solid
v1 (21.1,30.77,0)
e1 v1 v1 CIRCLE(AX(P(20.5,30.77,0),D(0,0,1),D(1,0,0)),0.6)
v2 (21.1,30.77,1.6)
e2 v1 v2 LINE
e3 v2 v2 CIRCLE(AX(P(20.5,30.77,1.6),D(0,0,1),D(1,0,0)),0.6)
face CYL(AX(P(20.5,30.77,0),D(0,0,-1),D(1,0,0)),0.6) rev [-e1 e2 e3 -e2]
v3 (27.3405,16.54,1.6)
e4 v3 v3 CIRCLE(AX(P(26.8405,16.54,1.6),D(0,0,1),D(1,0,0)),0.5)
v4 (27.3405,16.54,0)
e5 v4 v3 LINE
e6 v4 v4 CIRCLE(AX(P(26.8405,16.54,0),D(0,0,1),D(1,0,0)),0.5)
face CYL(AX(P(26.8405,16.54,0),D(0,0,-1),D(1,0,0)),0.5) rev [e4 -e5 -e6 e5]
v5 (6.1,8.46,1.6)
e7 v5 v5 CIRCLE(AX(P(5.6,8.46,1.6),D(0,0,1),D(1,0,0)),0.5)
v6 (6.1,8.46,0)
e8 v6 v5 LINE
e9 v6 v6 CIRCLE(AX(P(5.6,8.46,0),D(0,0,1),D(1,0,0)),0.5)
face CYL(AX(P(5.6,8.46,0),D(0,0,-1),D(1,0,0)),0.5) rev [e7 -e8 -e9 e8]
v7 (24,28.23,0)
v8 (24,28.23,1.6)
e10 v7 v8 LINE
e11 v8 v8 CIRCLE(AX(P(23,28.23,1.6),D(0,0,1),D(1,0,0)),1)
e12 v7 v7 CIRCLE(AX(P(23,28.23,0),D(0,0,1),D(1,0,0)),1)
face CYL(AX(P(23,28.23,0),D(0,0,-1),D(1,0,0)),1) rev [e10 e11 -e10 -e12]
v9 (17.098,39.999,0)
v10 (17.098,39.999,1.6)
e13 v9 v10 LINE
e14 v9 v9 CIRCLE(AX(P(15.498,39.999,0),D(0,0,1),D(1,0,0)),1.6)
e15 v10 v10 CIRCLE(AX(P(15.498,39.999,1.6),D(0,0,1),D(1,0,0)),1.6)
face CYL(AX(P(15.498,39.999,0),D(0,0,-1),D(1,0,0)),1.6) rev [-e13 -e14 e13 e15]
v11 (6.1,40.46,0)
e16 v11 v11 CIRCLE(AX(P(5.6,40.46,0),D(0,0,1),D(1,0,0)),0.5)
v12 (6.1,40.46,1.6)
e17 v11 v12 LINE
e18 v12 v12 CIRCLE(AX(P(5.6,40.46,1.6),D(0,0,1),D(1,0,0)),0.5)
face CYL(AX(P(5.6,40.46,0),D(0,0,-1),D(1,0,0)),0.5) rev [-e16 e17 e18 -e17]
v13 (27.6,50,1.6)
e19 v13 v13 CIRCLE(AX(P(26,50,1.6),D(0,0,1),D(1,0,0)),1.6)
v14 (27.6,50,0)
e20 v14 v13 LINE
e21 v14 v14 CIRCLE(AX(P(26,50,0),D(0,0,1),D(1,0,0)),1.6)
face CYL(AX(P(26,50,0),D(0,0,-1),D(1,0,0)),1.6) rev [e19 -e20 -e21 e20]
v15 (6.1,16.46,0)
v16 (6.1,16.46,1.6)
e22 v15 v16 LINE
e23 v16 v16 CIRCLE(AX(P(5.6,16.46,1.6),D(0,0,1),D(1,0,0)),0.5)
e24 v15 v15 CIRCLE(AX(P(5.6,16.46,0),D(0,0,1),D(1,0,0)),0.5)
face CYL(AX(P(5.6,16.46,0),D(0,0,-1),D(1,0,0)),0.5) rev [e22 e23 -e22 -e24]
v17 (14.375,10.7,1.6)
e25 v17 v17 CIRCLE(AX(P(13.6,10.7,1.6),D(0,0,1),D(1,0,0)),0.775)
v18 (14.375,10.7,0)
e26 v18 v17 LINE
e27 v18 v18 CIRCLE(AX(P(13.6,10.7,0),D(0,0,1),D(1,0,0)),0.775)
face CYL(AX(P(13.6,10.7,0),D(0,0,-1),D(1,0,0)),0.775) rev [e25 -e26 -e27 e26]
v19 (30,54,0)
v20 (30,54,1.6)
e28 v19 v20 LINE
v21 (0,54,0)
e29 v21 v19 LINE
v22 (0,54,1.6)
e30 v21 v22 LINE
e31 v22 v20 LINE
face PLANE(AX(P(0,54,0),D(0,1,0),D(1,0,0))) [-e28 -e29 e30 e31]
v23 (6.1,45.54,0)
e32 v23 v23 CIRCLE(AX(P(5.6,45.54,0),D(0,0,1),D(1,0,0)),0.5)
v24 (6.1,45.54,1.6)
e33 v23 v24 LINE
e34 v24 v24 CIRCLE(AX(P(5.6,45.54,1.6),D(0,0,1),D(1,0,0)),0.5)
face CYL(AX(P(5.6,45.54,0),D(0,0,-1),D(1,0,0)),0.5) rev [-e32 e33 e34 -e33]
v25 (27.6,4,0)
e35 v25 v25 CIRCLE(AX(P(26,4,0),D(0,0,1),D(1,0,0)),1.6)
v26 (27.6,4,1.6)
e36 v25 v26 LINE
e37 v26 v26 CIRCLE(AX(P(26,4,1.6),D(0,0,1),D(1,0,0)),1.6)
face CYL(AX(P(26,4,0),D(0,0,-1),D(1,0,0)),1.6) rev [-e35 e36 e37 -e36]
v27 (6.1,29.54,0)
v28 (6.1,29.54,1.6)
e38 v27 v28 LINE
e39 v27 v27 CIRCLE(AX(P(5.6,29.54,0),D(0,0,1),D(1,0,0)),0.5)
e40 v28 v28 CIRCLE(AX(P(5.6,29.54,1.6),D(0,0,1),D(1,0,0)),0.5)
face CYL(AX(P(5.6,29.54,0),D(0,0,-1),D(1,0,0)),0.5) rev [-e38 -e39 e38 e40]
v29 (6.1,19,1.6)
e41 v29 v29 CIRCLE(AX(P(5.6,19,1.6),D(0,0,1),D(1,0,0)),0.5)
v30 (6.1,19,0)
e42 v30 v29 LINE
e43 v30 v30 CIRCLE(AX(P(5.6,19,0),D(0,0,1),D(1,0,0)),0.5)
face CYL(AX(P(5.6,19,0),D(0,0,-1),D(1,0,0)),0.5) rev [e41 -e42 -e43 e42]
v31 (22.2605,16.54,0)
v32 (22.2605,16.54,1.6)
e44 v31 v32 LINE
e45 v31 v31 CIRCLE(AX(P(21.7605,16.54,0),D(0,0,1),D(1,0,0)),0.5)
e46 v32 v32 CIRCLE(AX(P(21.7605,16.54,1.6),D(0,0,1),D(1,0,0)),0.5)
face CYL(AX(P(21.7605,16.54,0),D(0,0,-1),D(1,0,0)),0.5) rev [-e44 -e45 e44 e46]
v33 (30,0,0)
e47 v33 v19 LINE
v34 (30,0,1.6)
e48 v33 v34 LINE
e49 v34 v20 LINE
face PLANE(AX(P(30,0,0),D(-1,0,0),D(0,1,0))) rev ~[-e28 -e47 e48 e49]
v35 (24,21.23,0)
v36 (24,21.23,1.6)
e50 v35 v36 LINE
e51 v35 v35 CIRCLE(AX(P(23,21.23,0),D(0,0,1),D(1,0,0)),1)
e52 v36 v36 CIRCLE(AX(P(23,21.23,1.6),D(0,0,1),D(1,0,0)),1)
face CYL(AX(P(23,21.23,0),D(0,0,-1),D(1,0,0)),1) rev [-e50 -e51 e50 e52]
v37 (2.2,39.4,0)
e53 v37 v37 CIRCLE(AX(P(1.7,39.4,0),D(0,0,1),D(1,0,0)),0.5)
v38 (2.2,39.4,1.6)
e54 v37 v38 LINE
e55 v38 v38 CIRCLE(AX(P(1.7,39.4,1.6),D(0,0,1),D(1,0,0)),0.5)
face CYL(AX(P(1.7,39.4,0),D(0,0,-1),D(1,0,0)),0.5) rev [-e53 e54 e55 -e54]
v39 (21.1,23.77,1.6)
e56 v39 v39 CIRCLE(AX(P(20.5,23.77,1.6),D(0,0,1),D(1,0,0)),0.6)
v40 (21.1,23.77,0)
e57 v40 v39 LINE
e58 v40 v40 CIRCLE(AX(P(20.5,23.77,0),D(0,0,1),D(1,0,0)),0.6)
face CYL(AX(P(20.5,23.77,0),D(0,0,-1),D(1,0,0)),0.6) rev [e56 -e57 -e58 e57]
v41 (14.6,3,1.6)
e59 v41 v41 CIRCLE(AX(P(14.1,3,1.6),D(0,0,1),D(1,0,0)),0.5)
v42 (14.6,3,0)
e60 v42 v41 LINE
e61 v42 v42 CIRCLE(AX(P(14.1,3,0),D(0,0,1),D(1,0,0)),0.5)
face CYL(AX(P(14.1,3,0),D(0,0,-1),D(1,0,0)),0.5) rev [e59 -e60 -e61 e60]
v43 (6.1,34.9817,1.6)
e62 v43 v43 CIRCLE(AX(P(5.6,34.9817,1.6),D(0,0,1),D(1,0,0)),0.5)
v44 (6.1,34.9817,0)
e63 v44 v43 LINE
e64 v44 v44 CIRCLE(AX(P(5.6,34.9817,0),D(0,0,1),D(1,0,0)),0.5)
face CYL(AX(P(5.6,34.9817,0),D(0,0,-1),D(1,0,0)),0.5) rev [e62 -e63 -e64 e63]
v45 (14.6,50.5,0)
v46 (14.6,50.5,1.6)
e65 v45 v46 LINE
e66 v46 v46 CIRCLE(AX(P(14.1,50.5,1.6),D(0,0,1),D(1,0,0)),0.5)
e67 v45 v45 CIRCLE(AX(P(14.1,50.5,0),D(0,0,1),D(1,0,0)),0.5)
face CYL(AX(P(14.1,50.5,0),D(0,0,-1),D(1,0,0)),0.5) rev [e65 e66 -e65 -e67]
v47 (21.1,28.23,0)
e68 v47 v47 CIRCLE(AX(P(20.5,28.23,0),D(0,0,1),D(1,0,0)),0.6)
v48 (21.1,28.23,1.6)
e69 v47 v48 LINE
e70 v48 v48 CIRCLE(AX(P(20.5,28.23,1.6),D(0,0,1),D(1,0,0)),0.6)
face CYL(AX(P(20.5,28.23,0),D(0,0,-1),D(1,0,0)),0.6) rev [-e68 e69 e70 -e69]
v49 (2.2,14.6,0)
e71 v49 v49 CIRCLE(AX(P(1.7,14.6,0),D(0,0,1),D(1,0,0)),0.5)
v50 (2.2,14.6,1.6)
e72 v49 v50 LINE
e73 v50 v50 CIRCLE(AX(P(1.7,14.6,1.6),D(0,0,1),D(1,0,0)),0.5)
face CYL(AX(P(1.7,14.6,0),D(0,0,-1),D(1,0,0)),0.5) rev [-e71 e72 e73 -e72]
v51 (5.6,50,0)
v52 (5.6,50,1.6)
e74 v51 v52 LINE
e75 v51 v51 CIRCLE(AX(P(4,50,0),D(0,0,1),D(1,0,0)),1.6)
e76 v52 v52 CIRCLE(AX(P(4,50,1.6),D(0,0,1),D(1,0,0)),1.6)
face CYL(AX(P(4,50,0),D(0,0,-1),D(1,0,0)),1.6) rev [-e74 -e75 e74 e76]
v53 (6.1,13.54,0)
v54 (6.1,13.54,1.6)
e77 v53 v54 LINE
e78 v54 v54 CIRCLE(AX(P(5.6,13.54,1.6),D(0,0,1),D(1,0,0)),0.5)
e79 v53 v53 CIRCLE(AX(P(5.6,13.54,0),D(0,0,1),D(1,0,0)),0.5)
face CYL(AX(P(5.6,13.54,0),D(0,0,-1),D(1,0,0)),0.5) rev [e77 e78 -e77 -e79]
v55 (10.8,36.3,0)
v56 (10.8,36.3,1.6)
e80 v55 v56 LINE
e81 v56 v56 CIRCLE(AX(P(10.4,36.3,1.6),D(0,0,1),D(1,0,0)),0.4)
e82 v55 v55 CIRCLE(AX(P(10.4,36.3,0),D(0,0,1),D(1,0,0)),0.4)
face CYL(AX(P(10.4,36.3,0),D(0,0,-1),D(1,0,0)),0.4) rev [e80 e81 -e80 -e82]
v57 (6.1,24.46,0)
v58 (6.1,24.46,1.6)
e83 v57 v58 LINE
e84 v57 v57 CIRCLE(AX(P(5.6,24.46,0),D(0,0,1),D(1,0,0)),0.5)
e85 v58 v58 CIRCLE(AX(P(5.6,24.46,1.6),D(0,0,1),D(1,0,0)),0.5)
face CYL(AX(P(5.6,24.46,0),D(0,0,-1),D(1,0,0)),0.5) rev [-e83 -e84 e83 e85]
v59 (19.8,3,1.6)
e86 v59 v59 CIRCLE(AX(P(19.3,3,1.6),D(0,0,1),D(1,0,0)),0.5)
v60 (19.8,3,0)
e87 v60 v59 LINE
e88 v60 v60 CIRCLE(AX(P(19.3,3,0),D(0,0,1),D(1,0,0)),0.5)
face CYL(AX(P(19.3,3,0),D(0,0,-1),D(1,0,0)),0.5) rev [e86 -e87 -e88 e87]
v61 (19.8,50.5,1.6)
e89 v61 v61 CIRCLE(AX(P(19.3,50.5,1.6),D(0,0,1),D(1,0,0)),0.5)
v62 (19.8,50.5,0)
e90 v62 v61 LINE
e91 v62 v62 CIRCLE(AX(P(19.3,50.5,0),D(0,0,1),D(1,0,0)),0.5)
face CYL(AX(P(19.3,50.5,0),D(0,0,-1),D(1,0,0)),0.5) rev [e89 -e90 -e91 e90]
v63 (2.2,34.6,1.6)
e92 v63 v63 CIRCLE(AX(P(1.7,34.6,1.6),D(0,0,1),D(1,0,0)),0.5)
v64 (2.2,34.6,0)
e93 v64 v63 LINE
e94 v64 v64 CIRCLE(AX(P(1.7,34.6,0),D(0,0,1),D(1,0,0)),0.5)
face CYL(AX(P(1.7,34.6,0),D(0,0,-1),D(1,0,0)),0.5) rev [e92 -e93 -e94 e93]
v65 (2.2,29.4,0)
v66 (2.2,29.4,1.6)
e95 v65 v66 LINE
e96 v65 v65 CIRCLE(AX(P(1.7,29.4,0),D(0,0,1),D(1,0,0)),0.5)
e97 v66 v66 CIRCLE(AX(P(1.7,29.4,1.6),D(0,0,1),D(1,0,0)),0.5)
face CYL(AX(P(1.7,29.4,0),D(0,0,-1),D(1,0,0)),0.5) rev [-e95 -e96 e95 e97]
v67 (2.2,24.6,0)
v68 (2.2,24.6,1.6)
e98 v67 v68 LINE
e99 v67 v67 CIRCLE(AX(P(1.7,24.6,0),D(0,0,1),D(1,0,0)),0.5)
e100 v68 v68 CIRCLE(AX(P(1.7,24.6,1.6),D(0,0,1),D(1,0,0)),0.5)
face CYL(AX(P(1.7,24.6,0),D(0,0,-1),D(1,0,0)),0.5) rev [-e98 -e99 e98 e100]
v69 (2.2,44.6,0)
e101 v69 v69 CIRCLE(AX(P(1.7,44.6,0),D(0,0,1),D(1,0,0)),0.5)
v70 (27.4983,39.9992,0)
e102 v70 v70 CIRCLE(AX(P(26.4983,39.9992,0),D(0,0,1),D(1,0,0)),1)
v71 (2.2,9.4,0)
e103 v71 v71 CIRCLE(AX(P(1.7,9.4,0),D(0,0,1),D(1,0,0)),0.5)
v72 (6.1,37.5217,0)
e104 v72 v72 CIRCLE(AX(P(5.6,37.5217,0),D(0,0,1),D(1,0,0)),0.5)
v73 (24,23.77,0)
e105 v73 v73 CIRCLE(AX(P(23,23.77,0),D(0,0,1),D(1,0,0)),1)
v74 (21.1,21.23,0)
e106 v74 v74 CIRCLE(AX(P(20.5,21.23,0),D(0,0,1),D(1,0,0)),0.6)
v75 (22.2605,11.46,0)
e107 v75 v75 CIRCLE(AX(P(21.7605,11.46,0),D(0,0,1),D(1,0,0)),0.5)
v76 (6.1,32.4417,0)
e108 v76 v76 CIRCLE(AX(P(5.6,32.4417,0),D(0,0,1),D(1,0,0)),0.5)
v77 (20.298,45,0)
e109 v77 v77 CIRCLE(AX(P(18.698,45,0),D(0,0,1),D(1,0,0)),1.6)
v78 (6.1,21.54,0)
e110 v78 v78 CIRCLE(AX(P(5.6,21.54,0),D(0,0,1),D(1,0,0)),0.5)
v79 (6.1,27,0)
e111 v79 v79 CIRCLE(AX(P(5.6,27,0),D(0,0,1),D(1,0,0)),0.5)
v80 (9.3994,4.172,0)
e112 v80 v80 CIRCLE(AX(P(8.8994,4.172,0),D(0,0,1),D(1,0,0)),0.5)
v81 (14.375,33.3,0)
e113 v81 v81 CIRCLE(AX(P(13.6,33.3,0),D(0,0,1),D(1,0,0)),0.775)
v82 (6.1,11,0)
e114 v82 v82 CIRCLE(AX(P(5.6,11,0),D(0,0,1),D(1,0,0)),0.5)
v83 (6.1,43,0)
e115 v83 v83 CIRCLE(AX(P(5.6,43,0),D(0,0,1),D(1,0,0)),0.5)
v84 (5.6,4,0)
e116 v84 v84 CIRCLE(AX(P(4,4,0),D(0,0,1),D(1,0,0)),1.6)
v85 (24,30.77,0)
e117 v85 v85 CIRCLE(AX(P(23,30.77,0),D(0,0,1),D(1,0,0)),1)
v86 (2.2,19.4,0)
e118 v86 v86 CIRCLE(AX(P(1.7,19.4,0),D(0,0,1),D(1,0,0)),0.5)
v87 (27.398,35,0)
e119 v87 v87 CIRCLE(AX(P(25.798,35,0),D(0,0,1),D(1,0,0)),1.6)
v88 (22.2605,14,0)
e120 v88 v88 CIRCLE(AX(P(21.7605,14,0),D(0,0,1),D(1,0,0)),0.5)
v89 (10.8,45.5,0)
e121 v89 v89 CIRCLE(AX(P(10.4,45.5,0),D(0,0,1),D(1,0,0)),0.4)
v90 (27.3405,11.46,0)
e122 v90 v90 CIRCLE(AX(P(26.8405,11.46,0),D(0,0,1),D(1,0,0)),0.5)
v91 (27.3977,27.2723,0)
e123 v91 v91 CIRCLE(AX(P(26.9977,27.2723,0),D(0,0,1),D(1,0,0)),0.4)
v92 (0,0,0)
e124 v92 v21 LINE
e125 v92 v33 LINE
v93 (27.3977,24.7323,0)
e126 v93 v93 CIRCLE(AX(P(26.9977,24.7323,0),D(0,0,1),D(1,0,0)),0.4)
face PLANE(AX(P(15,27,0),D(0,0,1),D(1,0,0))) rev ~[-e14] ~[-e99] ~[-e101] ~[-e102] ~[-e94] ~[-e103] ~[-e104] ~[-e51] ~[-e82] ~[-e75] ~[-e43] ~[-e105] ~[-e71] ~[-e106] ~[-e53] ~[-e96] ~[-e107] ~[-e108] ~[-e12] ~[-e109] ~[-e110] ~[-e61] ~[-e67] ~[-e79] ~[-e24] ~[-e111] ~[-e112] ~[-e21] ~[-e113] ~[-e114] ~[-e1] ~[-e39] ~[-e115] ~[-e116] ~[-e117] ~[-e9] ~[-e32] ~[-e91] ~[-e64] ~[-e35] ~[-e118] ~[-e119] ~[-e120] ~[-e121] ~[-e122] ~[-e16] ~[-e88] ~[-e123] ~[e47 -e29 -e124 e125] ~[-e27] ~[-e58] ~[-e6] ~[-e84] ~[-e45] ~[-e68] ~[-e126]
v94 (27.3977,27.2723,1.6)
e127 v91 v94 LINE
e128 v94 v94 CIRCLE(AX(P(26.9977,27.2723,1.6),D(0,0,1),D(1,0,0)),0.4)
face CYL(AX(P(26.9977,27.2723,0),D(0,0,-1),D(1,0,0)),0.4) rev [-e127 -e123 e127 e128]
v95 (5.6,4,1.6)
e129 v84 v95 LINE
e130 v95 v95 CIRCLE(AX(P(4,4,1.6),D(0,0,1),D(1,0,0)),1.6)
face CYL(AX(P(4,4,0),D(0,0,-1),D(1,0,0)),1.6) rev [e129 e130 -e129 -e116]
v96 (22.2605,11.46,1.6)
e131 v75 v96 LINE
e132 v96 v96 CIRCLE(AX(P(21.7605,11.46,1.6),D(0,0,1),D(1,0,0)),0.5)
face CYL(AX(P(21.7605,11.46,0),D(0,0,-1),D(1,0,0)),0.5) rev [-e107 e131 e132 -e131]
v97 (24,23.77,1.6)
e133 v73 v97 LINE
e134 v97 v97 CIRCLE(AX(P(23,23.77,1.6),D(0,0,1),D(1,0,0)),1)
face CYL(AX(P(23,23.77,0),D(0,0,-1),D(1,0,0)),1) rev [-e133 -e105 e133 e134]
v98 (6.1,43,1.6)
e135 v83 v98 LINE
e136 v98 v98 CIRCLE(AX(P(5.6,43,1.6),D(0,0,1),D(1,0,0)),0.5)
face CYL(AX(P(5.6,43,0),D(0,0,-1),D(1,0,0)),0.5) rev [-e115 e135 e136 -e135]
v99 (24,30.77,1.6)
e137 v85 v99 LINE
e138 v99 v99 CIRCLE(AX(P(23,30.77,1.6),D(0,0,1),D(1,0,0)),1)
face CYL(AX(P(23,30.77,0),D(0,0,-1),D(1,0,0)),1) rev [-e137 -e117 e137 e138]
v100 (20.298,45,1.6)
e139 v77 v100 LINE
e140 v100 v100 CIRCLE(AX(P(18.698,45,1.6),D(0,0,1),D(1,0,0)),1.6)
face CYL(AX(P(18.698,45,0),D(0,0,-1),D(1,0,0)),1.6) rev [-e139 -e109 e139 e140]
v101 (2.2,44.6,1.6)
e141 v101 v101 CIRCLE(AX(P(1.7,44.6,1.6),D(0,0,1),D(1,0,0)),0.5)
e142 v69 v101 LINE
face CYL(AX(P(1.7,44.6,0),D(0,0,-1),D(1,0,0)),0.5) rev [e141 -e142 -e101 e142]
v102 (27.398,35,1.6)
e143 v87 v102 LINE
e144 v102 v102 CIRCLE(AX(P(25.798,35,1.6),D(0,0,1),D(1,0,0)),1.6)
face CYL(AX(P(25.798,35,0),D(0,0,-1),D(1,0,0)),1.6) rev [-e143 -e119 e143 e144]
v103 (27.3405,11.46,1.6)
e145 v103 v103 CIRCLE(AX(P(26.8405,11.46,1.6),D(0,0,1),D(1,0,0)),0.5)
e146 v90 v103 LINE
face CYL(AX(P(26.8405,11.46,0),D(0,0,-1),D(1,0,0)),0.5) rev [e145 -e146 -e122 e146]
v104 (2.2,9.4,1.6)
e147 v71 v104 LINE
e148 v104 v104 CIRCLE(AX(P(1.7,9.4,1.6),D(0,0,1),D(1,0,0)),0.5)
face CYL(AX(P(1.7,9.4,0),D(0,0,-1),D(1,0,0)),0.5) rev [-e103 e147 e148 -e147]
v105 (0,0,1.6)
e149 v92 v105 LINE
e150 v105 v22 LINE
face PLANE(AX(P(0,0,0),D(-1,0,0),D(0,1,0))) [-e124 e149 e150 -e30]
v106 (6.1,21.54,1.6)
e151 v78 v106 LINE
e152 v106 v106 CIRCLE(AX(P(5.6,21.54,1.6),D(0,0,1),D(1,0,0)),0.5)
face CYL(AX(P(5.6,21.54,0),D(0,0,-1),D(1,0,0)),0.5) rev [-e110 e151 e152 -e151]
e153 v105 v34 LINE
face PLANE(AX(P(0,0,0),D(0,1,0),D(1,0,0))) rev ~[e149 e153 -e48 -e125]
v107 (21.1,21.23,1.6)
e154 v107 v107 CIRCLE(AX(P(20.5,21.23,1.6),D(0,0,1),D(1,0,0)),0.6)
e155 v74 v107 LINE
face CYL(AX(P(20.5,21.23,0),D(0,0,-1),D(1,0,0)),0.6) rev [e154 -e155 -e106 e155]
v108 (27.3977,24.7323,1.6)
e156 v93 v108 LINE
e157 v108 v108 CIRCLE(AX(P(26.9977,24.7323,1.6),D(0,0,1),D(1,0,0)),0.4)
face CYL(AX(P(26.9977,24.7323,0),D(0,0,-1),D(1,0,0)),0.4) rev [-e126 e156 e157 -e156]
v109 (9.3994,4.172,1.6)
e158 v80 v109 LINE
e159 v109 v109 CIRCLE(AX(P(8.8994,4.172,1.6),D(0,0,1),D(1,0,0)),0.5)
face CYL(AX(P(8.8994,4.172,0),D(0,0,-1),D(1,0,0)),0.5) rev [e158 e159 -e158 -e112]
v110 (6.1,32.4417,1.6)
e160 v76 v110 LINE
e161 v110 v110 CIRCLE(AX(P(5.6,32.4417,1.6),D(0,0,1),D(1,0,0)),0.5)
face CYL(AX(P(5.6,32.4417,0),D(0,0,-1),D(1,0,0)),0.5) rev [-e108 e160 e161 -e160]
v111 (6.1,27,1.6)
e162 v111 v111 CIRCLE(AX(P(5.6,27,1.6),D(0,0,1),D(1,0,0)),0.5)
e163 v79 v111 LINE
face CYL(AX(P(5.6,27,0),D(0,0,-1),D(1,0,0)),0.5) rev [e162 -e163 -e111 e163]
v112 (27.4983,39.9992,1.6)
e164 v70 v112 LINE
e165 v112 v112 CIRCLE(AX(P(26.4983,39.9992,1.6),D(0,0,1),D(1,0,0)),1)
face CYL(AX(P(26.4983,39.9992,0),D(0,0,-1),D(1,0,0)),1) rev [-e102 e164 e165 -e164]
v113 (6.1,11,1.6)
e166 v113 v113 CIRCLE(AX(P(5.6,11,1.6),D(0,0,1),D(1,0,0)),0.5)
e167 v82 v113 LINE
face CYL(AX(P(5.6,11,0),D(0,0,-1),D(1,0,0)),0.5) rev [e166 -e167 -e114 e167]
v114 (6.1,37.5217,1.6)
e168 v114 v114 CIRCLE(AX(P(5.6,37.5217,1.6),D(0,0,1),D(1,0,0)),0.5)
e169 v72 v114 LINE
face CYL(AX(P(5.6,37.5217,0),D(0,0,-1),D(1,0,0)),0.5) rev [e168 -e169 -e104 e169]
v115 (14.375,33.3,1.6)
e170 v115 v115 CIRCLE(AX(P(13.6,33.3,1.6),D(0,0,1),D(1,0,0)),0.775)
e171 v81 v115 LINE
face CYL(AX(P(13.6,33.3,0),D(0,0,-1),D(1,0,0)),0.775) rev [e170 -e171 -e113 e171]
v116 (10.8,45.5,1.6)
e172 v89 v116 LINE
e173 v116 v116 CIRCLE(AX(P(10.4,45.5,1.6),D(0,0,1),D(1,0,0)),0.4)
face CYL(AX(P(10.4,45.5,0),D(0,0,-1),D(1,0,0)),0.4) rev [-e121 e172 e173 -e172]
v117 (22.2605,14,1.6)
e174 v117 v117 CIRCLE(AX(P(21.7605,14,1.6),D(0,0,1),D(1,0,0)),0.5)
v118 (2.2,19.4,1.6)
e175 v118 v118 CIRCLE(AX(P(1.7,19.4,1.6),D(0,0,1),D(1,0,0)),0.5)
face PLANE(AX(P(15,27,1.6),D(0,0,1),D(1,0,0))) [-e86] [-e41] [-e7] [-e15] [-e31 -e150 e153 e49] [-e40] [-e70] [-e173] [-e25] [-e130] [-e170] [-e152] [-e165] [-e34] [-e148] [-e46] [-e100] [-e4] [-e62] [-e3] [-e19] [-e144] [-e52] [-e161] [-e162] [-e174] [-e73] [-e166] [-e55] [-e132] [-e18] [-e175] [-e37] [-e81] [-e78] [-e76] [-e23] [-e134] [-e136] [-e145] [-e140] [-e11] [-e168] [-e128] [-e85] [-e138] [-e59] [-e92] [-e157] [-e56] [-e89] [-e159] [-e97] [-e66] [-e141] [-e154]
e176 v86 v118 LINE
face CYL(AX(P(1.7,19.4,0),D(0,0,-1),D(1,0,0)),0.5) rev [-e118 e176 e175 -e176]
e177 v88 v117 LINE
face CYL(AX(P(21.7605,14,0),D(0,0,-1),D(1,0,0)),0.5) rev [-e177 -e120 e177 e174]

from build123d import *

# Parameters (mm, degrees)
MODEL_W            = 30
MODEL_H            = 54
MODEL_R            = 0.5
MODEL_R_2          = 1.6
MODEL_R_3          = 1
MODEL_R_4          = 0.6
MODEL_R_5          = 0.775
MODEL_R_6          = 0.4
BOSS_EXTRU_1_DEPTH = 1.6


with BuildPart() as part:
    # Model → Boss.-Extru.1 (new body)
    with BuildSketch(Plane.XY):
        with Locations((15, 27)):
            Rectangle(MODEL_W, MODEL_H)
        with Locations((1.7, 39.4)):
            Circle(MODEL_R, mode=Mode.SUBTRACT)
        with Locations((1.7, 44.6)):
            Circle(MODEL_R, mode=Mode.SUBTRACT)
        with Locations((1.7, 29.4)):
            Circle(MODEL_R, mode=Mode.SUBTRACT)
        with Locations((1.7, 34.6)):
            Circle(MODEL_R, mode=Mode.SUBTRACT)
        with Locations((1.7, 19.4)):
            Circle(MODEL_R, mode=Mode.SUBTRACT)
        with Locations((1.7, 24.6)):
            Circle(MODEL_R, mode=Mode.SUBTRACT)
        with Locations((1.7, 9.4)):
            Circle(MODEL_R, mode=Mode.SUBTRACT)
        with Locations((1.7, 14.6)):
            Circle(MODEL_R, mode=Mode.SUBTRACT)
        with Locations((14.1, 50.5)):
            Circle(MODEL_R, mode=Mode.SUBTRACT)
        with Locations((19.3, 50.5)):
            Circle(MODEL_R, mode=Mode.SUBTRACT)
        with Locations((19.3, 3)):
            Circle(MODEL_R, mode=Mode.SUBTRACT)
        with Locations((14.1, 3)):
            Circle(MODEL_R, mode=Mode.SUBTRACT)
        with Locations((5.6, 45.54)):
            Circle(MODEL_R, mode=Mode.SUBTRACT)
        with Locations((5.6, 43)):
            Circle(MODEL_R, mode=Mode.SUBTRACT)
        with Locations((5.6, 40.46)):
            Circle(MODEL_R, mode=Mode.SUBTRACT)
        with Locations((5.6, 37.5217)):
            Circle(MODEL_R, mode=Mode.SUBTRACT)
        with Locations((5.6, 34.9817)):
            Circle(MODEL_R, mode=Mode.SUBTRACT)
        with Locations((5.6, 32.4417)):
            Circle(MODEL_R, mode=Mode.SUBTRACT)
        with Locations((5.6, 29.54)):
            Circle(MODEL_R, mode=Mode.SUBTRACT)
        with Locations((5.6, 27)):
            Circle(MODEL_R, mode=Mode.SUBTRACT)
        with Locations((5.6, 24.46)):
            Circle(MODEL_R, mode=Mode.SUBTRACT)
        with Locations((5.6, 21.54)):
            Circle(MODEL_R, mode=Mode.SUBTRACT)
        with Locations((5.6, 19)):
            Circle(MODEL_R, mode=Mode.SUBTRACT)
        with Locations((5.6, 16.46)):
            Circle(MODEL_R, mode=Mode.SUBTRACT)
        with Locations((5.6, 13.54)):
            Circle(MODEL_R, mode=Mode.SUBTRACT)
        with Locations((5.6, 11)):
            Circle(MODEL_R, mode=Mode.SUBTRACT)
        with Locations((5.6, 8.46)):
            Circle(MODEL_R, mode=Mode.SUBTRACT)
        with Locations((15.498, 39.999)):
            Circle(MODEL_R_2, mode=Mode.SUBTRACT)
        with Locations((18.698, 45)):
            Circle(MODEL_R_2, mode=Mode.SUBTRACT)
        with Locations((25.798, 35)):
            Circle(MODEL_R_2, mode=Mode.SUBTRACT)
        with Locations((26.4983, 39.9992)):
            Circle(MODEL_R_3, mode=Mode.SUBTRACT)
        with Locations((20.5, 28.23)):
            Circle(MODEL_R_4, mode=Mode.SUBTRACT)
        with Locations((20.5, 30.77)):
            Circle(MODEL_R_4, mode=Mode.SUBTRACT)
        with Locations((23, 30.77)):
            Circle(MODEL_R_3, mode=Mode.SUBTRACT)
        with Locations((23, 28.23)):
            Circle(MODEL_R_3, mode=Mode.SUBTRACT)
        with Locations((20.5, 21.23)):
            Circle(MODEL_R_4, mode=Mode.SUBTRACT)
        with Locations((20.5, 23.77)):
            Circle(MODEL_R_4, mode=Mode.SUBTRACT)
        with Locations((23, 23.77)):
            Circle(MODEL_R_3, mode=Mode.SUBTRACT)
        with Locations((23, 21.23)):
            Circle(MODEL_R_3, mode=Mode.SUBTRACT)
        with Locations((13.6, 33.3)):
            Circle(MODEL_R_5, mode=Mode.SUBTRACT)
        with Locations((13.6, 10.7)):
            Circle(MODEL_R_5, mode=Mode.SUBTRACT)
        with Locations((26, 4)):
            Circle(MODEL_R_2, mode=Mode.SUBTRACT)
        with Locations((4, 4)):
            Circle(MODEL_R_2, mode=Mode.SUBTRACT)
        with Locations((26, 50)):
            Circle(MODEL_R_2, mode=Mode.SUBTRACT)
        with Locations((4, 50)):
            Circle(MODEL_R_2, mode=Mode.SUBTRACT)
        with Locations((26.9977, 27.2723)):
            Circle(MODEL_R_6, mode=Mode.SUBTRACT)
        with Locations((26.9977, 24.7323)):
            Circle(MODEL_R_6, mode=Mode.SUBTRACT)
        with Locations((10.4, 45.5)):
            Circle(MODEL_R_6, mode=Mode.SUBTRACT)
        with Locations((10.4, 36.3)):
            Circle(MODEL_R_6, mode=Mode.SUBTRACT)
        with Locations((21.7605, 14)):
            Circle(MODEL_R, mode=Mode.SUBTRACT)
        with Locations((21.7605, 11.46)):
            Circle(MODEL_R, mode=Mode.SUBTRACT)
        with Locations((26.8405, 11.46)):
            Circle(MODEL_R, mode=Mode.SUBTRACT)
        with Locations((26.8405, 16.54)):
            Circle(MODEL_R, mode=Mode.SUBTRACT)
        with Locations((21.7605, 16.54)):
            Circle(MODEL_R, mode=Mode.SUBTRACT)
        with Locations((8.8994, 4.172)):
            Circle(MODEL_R, mode=Mode.SUBTRACT)
    extrude(amount=BOSS_EXTRU_1_DEPTH)


solid = part.part
